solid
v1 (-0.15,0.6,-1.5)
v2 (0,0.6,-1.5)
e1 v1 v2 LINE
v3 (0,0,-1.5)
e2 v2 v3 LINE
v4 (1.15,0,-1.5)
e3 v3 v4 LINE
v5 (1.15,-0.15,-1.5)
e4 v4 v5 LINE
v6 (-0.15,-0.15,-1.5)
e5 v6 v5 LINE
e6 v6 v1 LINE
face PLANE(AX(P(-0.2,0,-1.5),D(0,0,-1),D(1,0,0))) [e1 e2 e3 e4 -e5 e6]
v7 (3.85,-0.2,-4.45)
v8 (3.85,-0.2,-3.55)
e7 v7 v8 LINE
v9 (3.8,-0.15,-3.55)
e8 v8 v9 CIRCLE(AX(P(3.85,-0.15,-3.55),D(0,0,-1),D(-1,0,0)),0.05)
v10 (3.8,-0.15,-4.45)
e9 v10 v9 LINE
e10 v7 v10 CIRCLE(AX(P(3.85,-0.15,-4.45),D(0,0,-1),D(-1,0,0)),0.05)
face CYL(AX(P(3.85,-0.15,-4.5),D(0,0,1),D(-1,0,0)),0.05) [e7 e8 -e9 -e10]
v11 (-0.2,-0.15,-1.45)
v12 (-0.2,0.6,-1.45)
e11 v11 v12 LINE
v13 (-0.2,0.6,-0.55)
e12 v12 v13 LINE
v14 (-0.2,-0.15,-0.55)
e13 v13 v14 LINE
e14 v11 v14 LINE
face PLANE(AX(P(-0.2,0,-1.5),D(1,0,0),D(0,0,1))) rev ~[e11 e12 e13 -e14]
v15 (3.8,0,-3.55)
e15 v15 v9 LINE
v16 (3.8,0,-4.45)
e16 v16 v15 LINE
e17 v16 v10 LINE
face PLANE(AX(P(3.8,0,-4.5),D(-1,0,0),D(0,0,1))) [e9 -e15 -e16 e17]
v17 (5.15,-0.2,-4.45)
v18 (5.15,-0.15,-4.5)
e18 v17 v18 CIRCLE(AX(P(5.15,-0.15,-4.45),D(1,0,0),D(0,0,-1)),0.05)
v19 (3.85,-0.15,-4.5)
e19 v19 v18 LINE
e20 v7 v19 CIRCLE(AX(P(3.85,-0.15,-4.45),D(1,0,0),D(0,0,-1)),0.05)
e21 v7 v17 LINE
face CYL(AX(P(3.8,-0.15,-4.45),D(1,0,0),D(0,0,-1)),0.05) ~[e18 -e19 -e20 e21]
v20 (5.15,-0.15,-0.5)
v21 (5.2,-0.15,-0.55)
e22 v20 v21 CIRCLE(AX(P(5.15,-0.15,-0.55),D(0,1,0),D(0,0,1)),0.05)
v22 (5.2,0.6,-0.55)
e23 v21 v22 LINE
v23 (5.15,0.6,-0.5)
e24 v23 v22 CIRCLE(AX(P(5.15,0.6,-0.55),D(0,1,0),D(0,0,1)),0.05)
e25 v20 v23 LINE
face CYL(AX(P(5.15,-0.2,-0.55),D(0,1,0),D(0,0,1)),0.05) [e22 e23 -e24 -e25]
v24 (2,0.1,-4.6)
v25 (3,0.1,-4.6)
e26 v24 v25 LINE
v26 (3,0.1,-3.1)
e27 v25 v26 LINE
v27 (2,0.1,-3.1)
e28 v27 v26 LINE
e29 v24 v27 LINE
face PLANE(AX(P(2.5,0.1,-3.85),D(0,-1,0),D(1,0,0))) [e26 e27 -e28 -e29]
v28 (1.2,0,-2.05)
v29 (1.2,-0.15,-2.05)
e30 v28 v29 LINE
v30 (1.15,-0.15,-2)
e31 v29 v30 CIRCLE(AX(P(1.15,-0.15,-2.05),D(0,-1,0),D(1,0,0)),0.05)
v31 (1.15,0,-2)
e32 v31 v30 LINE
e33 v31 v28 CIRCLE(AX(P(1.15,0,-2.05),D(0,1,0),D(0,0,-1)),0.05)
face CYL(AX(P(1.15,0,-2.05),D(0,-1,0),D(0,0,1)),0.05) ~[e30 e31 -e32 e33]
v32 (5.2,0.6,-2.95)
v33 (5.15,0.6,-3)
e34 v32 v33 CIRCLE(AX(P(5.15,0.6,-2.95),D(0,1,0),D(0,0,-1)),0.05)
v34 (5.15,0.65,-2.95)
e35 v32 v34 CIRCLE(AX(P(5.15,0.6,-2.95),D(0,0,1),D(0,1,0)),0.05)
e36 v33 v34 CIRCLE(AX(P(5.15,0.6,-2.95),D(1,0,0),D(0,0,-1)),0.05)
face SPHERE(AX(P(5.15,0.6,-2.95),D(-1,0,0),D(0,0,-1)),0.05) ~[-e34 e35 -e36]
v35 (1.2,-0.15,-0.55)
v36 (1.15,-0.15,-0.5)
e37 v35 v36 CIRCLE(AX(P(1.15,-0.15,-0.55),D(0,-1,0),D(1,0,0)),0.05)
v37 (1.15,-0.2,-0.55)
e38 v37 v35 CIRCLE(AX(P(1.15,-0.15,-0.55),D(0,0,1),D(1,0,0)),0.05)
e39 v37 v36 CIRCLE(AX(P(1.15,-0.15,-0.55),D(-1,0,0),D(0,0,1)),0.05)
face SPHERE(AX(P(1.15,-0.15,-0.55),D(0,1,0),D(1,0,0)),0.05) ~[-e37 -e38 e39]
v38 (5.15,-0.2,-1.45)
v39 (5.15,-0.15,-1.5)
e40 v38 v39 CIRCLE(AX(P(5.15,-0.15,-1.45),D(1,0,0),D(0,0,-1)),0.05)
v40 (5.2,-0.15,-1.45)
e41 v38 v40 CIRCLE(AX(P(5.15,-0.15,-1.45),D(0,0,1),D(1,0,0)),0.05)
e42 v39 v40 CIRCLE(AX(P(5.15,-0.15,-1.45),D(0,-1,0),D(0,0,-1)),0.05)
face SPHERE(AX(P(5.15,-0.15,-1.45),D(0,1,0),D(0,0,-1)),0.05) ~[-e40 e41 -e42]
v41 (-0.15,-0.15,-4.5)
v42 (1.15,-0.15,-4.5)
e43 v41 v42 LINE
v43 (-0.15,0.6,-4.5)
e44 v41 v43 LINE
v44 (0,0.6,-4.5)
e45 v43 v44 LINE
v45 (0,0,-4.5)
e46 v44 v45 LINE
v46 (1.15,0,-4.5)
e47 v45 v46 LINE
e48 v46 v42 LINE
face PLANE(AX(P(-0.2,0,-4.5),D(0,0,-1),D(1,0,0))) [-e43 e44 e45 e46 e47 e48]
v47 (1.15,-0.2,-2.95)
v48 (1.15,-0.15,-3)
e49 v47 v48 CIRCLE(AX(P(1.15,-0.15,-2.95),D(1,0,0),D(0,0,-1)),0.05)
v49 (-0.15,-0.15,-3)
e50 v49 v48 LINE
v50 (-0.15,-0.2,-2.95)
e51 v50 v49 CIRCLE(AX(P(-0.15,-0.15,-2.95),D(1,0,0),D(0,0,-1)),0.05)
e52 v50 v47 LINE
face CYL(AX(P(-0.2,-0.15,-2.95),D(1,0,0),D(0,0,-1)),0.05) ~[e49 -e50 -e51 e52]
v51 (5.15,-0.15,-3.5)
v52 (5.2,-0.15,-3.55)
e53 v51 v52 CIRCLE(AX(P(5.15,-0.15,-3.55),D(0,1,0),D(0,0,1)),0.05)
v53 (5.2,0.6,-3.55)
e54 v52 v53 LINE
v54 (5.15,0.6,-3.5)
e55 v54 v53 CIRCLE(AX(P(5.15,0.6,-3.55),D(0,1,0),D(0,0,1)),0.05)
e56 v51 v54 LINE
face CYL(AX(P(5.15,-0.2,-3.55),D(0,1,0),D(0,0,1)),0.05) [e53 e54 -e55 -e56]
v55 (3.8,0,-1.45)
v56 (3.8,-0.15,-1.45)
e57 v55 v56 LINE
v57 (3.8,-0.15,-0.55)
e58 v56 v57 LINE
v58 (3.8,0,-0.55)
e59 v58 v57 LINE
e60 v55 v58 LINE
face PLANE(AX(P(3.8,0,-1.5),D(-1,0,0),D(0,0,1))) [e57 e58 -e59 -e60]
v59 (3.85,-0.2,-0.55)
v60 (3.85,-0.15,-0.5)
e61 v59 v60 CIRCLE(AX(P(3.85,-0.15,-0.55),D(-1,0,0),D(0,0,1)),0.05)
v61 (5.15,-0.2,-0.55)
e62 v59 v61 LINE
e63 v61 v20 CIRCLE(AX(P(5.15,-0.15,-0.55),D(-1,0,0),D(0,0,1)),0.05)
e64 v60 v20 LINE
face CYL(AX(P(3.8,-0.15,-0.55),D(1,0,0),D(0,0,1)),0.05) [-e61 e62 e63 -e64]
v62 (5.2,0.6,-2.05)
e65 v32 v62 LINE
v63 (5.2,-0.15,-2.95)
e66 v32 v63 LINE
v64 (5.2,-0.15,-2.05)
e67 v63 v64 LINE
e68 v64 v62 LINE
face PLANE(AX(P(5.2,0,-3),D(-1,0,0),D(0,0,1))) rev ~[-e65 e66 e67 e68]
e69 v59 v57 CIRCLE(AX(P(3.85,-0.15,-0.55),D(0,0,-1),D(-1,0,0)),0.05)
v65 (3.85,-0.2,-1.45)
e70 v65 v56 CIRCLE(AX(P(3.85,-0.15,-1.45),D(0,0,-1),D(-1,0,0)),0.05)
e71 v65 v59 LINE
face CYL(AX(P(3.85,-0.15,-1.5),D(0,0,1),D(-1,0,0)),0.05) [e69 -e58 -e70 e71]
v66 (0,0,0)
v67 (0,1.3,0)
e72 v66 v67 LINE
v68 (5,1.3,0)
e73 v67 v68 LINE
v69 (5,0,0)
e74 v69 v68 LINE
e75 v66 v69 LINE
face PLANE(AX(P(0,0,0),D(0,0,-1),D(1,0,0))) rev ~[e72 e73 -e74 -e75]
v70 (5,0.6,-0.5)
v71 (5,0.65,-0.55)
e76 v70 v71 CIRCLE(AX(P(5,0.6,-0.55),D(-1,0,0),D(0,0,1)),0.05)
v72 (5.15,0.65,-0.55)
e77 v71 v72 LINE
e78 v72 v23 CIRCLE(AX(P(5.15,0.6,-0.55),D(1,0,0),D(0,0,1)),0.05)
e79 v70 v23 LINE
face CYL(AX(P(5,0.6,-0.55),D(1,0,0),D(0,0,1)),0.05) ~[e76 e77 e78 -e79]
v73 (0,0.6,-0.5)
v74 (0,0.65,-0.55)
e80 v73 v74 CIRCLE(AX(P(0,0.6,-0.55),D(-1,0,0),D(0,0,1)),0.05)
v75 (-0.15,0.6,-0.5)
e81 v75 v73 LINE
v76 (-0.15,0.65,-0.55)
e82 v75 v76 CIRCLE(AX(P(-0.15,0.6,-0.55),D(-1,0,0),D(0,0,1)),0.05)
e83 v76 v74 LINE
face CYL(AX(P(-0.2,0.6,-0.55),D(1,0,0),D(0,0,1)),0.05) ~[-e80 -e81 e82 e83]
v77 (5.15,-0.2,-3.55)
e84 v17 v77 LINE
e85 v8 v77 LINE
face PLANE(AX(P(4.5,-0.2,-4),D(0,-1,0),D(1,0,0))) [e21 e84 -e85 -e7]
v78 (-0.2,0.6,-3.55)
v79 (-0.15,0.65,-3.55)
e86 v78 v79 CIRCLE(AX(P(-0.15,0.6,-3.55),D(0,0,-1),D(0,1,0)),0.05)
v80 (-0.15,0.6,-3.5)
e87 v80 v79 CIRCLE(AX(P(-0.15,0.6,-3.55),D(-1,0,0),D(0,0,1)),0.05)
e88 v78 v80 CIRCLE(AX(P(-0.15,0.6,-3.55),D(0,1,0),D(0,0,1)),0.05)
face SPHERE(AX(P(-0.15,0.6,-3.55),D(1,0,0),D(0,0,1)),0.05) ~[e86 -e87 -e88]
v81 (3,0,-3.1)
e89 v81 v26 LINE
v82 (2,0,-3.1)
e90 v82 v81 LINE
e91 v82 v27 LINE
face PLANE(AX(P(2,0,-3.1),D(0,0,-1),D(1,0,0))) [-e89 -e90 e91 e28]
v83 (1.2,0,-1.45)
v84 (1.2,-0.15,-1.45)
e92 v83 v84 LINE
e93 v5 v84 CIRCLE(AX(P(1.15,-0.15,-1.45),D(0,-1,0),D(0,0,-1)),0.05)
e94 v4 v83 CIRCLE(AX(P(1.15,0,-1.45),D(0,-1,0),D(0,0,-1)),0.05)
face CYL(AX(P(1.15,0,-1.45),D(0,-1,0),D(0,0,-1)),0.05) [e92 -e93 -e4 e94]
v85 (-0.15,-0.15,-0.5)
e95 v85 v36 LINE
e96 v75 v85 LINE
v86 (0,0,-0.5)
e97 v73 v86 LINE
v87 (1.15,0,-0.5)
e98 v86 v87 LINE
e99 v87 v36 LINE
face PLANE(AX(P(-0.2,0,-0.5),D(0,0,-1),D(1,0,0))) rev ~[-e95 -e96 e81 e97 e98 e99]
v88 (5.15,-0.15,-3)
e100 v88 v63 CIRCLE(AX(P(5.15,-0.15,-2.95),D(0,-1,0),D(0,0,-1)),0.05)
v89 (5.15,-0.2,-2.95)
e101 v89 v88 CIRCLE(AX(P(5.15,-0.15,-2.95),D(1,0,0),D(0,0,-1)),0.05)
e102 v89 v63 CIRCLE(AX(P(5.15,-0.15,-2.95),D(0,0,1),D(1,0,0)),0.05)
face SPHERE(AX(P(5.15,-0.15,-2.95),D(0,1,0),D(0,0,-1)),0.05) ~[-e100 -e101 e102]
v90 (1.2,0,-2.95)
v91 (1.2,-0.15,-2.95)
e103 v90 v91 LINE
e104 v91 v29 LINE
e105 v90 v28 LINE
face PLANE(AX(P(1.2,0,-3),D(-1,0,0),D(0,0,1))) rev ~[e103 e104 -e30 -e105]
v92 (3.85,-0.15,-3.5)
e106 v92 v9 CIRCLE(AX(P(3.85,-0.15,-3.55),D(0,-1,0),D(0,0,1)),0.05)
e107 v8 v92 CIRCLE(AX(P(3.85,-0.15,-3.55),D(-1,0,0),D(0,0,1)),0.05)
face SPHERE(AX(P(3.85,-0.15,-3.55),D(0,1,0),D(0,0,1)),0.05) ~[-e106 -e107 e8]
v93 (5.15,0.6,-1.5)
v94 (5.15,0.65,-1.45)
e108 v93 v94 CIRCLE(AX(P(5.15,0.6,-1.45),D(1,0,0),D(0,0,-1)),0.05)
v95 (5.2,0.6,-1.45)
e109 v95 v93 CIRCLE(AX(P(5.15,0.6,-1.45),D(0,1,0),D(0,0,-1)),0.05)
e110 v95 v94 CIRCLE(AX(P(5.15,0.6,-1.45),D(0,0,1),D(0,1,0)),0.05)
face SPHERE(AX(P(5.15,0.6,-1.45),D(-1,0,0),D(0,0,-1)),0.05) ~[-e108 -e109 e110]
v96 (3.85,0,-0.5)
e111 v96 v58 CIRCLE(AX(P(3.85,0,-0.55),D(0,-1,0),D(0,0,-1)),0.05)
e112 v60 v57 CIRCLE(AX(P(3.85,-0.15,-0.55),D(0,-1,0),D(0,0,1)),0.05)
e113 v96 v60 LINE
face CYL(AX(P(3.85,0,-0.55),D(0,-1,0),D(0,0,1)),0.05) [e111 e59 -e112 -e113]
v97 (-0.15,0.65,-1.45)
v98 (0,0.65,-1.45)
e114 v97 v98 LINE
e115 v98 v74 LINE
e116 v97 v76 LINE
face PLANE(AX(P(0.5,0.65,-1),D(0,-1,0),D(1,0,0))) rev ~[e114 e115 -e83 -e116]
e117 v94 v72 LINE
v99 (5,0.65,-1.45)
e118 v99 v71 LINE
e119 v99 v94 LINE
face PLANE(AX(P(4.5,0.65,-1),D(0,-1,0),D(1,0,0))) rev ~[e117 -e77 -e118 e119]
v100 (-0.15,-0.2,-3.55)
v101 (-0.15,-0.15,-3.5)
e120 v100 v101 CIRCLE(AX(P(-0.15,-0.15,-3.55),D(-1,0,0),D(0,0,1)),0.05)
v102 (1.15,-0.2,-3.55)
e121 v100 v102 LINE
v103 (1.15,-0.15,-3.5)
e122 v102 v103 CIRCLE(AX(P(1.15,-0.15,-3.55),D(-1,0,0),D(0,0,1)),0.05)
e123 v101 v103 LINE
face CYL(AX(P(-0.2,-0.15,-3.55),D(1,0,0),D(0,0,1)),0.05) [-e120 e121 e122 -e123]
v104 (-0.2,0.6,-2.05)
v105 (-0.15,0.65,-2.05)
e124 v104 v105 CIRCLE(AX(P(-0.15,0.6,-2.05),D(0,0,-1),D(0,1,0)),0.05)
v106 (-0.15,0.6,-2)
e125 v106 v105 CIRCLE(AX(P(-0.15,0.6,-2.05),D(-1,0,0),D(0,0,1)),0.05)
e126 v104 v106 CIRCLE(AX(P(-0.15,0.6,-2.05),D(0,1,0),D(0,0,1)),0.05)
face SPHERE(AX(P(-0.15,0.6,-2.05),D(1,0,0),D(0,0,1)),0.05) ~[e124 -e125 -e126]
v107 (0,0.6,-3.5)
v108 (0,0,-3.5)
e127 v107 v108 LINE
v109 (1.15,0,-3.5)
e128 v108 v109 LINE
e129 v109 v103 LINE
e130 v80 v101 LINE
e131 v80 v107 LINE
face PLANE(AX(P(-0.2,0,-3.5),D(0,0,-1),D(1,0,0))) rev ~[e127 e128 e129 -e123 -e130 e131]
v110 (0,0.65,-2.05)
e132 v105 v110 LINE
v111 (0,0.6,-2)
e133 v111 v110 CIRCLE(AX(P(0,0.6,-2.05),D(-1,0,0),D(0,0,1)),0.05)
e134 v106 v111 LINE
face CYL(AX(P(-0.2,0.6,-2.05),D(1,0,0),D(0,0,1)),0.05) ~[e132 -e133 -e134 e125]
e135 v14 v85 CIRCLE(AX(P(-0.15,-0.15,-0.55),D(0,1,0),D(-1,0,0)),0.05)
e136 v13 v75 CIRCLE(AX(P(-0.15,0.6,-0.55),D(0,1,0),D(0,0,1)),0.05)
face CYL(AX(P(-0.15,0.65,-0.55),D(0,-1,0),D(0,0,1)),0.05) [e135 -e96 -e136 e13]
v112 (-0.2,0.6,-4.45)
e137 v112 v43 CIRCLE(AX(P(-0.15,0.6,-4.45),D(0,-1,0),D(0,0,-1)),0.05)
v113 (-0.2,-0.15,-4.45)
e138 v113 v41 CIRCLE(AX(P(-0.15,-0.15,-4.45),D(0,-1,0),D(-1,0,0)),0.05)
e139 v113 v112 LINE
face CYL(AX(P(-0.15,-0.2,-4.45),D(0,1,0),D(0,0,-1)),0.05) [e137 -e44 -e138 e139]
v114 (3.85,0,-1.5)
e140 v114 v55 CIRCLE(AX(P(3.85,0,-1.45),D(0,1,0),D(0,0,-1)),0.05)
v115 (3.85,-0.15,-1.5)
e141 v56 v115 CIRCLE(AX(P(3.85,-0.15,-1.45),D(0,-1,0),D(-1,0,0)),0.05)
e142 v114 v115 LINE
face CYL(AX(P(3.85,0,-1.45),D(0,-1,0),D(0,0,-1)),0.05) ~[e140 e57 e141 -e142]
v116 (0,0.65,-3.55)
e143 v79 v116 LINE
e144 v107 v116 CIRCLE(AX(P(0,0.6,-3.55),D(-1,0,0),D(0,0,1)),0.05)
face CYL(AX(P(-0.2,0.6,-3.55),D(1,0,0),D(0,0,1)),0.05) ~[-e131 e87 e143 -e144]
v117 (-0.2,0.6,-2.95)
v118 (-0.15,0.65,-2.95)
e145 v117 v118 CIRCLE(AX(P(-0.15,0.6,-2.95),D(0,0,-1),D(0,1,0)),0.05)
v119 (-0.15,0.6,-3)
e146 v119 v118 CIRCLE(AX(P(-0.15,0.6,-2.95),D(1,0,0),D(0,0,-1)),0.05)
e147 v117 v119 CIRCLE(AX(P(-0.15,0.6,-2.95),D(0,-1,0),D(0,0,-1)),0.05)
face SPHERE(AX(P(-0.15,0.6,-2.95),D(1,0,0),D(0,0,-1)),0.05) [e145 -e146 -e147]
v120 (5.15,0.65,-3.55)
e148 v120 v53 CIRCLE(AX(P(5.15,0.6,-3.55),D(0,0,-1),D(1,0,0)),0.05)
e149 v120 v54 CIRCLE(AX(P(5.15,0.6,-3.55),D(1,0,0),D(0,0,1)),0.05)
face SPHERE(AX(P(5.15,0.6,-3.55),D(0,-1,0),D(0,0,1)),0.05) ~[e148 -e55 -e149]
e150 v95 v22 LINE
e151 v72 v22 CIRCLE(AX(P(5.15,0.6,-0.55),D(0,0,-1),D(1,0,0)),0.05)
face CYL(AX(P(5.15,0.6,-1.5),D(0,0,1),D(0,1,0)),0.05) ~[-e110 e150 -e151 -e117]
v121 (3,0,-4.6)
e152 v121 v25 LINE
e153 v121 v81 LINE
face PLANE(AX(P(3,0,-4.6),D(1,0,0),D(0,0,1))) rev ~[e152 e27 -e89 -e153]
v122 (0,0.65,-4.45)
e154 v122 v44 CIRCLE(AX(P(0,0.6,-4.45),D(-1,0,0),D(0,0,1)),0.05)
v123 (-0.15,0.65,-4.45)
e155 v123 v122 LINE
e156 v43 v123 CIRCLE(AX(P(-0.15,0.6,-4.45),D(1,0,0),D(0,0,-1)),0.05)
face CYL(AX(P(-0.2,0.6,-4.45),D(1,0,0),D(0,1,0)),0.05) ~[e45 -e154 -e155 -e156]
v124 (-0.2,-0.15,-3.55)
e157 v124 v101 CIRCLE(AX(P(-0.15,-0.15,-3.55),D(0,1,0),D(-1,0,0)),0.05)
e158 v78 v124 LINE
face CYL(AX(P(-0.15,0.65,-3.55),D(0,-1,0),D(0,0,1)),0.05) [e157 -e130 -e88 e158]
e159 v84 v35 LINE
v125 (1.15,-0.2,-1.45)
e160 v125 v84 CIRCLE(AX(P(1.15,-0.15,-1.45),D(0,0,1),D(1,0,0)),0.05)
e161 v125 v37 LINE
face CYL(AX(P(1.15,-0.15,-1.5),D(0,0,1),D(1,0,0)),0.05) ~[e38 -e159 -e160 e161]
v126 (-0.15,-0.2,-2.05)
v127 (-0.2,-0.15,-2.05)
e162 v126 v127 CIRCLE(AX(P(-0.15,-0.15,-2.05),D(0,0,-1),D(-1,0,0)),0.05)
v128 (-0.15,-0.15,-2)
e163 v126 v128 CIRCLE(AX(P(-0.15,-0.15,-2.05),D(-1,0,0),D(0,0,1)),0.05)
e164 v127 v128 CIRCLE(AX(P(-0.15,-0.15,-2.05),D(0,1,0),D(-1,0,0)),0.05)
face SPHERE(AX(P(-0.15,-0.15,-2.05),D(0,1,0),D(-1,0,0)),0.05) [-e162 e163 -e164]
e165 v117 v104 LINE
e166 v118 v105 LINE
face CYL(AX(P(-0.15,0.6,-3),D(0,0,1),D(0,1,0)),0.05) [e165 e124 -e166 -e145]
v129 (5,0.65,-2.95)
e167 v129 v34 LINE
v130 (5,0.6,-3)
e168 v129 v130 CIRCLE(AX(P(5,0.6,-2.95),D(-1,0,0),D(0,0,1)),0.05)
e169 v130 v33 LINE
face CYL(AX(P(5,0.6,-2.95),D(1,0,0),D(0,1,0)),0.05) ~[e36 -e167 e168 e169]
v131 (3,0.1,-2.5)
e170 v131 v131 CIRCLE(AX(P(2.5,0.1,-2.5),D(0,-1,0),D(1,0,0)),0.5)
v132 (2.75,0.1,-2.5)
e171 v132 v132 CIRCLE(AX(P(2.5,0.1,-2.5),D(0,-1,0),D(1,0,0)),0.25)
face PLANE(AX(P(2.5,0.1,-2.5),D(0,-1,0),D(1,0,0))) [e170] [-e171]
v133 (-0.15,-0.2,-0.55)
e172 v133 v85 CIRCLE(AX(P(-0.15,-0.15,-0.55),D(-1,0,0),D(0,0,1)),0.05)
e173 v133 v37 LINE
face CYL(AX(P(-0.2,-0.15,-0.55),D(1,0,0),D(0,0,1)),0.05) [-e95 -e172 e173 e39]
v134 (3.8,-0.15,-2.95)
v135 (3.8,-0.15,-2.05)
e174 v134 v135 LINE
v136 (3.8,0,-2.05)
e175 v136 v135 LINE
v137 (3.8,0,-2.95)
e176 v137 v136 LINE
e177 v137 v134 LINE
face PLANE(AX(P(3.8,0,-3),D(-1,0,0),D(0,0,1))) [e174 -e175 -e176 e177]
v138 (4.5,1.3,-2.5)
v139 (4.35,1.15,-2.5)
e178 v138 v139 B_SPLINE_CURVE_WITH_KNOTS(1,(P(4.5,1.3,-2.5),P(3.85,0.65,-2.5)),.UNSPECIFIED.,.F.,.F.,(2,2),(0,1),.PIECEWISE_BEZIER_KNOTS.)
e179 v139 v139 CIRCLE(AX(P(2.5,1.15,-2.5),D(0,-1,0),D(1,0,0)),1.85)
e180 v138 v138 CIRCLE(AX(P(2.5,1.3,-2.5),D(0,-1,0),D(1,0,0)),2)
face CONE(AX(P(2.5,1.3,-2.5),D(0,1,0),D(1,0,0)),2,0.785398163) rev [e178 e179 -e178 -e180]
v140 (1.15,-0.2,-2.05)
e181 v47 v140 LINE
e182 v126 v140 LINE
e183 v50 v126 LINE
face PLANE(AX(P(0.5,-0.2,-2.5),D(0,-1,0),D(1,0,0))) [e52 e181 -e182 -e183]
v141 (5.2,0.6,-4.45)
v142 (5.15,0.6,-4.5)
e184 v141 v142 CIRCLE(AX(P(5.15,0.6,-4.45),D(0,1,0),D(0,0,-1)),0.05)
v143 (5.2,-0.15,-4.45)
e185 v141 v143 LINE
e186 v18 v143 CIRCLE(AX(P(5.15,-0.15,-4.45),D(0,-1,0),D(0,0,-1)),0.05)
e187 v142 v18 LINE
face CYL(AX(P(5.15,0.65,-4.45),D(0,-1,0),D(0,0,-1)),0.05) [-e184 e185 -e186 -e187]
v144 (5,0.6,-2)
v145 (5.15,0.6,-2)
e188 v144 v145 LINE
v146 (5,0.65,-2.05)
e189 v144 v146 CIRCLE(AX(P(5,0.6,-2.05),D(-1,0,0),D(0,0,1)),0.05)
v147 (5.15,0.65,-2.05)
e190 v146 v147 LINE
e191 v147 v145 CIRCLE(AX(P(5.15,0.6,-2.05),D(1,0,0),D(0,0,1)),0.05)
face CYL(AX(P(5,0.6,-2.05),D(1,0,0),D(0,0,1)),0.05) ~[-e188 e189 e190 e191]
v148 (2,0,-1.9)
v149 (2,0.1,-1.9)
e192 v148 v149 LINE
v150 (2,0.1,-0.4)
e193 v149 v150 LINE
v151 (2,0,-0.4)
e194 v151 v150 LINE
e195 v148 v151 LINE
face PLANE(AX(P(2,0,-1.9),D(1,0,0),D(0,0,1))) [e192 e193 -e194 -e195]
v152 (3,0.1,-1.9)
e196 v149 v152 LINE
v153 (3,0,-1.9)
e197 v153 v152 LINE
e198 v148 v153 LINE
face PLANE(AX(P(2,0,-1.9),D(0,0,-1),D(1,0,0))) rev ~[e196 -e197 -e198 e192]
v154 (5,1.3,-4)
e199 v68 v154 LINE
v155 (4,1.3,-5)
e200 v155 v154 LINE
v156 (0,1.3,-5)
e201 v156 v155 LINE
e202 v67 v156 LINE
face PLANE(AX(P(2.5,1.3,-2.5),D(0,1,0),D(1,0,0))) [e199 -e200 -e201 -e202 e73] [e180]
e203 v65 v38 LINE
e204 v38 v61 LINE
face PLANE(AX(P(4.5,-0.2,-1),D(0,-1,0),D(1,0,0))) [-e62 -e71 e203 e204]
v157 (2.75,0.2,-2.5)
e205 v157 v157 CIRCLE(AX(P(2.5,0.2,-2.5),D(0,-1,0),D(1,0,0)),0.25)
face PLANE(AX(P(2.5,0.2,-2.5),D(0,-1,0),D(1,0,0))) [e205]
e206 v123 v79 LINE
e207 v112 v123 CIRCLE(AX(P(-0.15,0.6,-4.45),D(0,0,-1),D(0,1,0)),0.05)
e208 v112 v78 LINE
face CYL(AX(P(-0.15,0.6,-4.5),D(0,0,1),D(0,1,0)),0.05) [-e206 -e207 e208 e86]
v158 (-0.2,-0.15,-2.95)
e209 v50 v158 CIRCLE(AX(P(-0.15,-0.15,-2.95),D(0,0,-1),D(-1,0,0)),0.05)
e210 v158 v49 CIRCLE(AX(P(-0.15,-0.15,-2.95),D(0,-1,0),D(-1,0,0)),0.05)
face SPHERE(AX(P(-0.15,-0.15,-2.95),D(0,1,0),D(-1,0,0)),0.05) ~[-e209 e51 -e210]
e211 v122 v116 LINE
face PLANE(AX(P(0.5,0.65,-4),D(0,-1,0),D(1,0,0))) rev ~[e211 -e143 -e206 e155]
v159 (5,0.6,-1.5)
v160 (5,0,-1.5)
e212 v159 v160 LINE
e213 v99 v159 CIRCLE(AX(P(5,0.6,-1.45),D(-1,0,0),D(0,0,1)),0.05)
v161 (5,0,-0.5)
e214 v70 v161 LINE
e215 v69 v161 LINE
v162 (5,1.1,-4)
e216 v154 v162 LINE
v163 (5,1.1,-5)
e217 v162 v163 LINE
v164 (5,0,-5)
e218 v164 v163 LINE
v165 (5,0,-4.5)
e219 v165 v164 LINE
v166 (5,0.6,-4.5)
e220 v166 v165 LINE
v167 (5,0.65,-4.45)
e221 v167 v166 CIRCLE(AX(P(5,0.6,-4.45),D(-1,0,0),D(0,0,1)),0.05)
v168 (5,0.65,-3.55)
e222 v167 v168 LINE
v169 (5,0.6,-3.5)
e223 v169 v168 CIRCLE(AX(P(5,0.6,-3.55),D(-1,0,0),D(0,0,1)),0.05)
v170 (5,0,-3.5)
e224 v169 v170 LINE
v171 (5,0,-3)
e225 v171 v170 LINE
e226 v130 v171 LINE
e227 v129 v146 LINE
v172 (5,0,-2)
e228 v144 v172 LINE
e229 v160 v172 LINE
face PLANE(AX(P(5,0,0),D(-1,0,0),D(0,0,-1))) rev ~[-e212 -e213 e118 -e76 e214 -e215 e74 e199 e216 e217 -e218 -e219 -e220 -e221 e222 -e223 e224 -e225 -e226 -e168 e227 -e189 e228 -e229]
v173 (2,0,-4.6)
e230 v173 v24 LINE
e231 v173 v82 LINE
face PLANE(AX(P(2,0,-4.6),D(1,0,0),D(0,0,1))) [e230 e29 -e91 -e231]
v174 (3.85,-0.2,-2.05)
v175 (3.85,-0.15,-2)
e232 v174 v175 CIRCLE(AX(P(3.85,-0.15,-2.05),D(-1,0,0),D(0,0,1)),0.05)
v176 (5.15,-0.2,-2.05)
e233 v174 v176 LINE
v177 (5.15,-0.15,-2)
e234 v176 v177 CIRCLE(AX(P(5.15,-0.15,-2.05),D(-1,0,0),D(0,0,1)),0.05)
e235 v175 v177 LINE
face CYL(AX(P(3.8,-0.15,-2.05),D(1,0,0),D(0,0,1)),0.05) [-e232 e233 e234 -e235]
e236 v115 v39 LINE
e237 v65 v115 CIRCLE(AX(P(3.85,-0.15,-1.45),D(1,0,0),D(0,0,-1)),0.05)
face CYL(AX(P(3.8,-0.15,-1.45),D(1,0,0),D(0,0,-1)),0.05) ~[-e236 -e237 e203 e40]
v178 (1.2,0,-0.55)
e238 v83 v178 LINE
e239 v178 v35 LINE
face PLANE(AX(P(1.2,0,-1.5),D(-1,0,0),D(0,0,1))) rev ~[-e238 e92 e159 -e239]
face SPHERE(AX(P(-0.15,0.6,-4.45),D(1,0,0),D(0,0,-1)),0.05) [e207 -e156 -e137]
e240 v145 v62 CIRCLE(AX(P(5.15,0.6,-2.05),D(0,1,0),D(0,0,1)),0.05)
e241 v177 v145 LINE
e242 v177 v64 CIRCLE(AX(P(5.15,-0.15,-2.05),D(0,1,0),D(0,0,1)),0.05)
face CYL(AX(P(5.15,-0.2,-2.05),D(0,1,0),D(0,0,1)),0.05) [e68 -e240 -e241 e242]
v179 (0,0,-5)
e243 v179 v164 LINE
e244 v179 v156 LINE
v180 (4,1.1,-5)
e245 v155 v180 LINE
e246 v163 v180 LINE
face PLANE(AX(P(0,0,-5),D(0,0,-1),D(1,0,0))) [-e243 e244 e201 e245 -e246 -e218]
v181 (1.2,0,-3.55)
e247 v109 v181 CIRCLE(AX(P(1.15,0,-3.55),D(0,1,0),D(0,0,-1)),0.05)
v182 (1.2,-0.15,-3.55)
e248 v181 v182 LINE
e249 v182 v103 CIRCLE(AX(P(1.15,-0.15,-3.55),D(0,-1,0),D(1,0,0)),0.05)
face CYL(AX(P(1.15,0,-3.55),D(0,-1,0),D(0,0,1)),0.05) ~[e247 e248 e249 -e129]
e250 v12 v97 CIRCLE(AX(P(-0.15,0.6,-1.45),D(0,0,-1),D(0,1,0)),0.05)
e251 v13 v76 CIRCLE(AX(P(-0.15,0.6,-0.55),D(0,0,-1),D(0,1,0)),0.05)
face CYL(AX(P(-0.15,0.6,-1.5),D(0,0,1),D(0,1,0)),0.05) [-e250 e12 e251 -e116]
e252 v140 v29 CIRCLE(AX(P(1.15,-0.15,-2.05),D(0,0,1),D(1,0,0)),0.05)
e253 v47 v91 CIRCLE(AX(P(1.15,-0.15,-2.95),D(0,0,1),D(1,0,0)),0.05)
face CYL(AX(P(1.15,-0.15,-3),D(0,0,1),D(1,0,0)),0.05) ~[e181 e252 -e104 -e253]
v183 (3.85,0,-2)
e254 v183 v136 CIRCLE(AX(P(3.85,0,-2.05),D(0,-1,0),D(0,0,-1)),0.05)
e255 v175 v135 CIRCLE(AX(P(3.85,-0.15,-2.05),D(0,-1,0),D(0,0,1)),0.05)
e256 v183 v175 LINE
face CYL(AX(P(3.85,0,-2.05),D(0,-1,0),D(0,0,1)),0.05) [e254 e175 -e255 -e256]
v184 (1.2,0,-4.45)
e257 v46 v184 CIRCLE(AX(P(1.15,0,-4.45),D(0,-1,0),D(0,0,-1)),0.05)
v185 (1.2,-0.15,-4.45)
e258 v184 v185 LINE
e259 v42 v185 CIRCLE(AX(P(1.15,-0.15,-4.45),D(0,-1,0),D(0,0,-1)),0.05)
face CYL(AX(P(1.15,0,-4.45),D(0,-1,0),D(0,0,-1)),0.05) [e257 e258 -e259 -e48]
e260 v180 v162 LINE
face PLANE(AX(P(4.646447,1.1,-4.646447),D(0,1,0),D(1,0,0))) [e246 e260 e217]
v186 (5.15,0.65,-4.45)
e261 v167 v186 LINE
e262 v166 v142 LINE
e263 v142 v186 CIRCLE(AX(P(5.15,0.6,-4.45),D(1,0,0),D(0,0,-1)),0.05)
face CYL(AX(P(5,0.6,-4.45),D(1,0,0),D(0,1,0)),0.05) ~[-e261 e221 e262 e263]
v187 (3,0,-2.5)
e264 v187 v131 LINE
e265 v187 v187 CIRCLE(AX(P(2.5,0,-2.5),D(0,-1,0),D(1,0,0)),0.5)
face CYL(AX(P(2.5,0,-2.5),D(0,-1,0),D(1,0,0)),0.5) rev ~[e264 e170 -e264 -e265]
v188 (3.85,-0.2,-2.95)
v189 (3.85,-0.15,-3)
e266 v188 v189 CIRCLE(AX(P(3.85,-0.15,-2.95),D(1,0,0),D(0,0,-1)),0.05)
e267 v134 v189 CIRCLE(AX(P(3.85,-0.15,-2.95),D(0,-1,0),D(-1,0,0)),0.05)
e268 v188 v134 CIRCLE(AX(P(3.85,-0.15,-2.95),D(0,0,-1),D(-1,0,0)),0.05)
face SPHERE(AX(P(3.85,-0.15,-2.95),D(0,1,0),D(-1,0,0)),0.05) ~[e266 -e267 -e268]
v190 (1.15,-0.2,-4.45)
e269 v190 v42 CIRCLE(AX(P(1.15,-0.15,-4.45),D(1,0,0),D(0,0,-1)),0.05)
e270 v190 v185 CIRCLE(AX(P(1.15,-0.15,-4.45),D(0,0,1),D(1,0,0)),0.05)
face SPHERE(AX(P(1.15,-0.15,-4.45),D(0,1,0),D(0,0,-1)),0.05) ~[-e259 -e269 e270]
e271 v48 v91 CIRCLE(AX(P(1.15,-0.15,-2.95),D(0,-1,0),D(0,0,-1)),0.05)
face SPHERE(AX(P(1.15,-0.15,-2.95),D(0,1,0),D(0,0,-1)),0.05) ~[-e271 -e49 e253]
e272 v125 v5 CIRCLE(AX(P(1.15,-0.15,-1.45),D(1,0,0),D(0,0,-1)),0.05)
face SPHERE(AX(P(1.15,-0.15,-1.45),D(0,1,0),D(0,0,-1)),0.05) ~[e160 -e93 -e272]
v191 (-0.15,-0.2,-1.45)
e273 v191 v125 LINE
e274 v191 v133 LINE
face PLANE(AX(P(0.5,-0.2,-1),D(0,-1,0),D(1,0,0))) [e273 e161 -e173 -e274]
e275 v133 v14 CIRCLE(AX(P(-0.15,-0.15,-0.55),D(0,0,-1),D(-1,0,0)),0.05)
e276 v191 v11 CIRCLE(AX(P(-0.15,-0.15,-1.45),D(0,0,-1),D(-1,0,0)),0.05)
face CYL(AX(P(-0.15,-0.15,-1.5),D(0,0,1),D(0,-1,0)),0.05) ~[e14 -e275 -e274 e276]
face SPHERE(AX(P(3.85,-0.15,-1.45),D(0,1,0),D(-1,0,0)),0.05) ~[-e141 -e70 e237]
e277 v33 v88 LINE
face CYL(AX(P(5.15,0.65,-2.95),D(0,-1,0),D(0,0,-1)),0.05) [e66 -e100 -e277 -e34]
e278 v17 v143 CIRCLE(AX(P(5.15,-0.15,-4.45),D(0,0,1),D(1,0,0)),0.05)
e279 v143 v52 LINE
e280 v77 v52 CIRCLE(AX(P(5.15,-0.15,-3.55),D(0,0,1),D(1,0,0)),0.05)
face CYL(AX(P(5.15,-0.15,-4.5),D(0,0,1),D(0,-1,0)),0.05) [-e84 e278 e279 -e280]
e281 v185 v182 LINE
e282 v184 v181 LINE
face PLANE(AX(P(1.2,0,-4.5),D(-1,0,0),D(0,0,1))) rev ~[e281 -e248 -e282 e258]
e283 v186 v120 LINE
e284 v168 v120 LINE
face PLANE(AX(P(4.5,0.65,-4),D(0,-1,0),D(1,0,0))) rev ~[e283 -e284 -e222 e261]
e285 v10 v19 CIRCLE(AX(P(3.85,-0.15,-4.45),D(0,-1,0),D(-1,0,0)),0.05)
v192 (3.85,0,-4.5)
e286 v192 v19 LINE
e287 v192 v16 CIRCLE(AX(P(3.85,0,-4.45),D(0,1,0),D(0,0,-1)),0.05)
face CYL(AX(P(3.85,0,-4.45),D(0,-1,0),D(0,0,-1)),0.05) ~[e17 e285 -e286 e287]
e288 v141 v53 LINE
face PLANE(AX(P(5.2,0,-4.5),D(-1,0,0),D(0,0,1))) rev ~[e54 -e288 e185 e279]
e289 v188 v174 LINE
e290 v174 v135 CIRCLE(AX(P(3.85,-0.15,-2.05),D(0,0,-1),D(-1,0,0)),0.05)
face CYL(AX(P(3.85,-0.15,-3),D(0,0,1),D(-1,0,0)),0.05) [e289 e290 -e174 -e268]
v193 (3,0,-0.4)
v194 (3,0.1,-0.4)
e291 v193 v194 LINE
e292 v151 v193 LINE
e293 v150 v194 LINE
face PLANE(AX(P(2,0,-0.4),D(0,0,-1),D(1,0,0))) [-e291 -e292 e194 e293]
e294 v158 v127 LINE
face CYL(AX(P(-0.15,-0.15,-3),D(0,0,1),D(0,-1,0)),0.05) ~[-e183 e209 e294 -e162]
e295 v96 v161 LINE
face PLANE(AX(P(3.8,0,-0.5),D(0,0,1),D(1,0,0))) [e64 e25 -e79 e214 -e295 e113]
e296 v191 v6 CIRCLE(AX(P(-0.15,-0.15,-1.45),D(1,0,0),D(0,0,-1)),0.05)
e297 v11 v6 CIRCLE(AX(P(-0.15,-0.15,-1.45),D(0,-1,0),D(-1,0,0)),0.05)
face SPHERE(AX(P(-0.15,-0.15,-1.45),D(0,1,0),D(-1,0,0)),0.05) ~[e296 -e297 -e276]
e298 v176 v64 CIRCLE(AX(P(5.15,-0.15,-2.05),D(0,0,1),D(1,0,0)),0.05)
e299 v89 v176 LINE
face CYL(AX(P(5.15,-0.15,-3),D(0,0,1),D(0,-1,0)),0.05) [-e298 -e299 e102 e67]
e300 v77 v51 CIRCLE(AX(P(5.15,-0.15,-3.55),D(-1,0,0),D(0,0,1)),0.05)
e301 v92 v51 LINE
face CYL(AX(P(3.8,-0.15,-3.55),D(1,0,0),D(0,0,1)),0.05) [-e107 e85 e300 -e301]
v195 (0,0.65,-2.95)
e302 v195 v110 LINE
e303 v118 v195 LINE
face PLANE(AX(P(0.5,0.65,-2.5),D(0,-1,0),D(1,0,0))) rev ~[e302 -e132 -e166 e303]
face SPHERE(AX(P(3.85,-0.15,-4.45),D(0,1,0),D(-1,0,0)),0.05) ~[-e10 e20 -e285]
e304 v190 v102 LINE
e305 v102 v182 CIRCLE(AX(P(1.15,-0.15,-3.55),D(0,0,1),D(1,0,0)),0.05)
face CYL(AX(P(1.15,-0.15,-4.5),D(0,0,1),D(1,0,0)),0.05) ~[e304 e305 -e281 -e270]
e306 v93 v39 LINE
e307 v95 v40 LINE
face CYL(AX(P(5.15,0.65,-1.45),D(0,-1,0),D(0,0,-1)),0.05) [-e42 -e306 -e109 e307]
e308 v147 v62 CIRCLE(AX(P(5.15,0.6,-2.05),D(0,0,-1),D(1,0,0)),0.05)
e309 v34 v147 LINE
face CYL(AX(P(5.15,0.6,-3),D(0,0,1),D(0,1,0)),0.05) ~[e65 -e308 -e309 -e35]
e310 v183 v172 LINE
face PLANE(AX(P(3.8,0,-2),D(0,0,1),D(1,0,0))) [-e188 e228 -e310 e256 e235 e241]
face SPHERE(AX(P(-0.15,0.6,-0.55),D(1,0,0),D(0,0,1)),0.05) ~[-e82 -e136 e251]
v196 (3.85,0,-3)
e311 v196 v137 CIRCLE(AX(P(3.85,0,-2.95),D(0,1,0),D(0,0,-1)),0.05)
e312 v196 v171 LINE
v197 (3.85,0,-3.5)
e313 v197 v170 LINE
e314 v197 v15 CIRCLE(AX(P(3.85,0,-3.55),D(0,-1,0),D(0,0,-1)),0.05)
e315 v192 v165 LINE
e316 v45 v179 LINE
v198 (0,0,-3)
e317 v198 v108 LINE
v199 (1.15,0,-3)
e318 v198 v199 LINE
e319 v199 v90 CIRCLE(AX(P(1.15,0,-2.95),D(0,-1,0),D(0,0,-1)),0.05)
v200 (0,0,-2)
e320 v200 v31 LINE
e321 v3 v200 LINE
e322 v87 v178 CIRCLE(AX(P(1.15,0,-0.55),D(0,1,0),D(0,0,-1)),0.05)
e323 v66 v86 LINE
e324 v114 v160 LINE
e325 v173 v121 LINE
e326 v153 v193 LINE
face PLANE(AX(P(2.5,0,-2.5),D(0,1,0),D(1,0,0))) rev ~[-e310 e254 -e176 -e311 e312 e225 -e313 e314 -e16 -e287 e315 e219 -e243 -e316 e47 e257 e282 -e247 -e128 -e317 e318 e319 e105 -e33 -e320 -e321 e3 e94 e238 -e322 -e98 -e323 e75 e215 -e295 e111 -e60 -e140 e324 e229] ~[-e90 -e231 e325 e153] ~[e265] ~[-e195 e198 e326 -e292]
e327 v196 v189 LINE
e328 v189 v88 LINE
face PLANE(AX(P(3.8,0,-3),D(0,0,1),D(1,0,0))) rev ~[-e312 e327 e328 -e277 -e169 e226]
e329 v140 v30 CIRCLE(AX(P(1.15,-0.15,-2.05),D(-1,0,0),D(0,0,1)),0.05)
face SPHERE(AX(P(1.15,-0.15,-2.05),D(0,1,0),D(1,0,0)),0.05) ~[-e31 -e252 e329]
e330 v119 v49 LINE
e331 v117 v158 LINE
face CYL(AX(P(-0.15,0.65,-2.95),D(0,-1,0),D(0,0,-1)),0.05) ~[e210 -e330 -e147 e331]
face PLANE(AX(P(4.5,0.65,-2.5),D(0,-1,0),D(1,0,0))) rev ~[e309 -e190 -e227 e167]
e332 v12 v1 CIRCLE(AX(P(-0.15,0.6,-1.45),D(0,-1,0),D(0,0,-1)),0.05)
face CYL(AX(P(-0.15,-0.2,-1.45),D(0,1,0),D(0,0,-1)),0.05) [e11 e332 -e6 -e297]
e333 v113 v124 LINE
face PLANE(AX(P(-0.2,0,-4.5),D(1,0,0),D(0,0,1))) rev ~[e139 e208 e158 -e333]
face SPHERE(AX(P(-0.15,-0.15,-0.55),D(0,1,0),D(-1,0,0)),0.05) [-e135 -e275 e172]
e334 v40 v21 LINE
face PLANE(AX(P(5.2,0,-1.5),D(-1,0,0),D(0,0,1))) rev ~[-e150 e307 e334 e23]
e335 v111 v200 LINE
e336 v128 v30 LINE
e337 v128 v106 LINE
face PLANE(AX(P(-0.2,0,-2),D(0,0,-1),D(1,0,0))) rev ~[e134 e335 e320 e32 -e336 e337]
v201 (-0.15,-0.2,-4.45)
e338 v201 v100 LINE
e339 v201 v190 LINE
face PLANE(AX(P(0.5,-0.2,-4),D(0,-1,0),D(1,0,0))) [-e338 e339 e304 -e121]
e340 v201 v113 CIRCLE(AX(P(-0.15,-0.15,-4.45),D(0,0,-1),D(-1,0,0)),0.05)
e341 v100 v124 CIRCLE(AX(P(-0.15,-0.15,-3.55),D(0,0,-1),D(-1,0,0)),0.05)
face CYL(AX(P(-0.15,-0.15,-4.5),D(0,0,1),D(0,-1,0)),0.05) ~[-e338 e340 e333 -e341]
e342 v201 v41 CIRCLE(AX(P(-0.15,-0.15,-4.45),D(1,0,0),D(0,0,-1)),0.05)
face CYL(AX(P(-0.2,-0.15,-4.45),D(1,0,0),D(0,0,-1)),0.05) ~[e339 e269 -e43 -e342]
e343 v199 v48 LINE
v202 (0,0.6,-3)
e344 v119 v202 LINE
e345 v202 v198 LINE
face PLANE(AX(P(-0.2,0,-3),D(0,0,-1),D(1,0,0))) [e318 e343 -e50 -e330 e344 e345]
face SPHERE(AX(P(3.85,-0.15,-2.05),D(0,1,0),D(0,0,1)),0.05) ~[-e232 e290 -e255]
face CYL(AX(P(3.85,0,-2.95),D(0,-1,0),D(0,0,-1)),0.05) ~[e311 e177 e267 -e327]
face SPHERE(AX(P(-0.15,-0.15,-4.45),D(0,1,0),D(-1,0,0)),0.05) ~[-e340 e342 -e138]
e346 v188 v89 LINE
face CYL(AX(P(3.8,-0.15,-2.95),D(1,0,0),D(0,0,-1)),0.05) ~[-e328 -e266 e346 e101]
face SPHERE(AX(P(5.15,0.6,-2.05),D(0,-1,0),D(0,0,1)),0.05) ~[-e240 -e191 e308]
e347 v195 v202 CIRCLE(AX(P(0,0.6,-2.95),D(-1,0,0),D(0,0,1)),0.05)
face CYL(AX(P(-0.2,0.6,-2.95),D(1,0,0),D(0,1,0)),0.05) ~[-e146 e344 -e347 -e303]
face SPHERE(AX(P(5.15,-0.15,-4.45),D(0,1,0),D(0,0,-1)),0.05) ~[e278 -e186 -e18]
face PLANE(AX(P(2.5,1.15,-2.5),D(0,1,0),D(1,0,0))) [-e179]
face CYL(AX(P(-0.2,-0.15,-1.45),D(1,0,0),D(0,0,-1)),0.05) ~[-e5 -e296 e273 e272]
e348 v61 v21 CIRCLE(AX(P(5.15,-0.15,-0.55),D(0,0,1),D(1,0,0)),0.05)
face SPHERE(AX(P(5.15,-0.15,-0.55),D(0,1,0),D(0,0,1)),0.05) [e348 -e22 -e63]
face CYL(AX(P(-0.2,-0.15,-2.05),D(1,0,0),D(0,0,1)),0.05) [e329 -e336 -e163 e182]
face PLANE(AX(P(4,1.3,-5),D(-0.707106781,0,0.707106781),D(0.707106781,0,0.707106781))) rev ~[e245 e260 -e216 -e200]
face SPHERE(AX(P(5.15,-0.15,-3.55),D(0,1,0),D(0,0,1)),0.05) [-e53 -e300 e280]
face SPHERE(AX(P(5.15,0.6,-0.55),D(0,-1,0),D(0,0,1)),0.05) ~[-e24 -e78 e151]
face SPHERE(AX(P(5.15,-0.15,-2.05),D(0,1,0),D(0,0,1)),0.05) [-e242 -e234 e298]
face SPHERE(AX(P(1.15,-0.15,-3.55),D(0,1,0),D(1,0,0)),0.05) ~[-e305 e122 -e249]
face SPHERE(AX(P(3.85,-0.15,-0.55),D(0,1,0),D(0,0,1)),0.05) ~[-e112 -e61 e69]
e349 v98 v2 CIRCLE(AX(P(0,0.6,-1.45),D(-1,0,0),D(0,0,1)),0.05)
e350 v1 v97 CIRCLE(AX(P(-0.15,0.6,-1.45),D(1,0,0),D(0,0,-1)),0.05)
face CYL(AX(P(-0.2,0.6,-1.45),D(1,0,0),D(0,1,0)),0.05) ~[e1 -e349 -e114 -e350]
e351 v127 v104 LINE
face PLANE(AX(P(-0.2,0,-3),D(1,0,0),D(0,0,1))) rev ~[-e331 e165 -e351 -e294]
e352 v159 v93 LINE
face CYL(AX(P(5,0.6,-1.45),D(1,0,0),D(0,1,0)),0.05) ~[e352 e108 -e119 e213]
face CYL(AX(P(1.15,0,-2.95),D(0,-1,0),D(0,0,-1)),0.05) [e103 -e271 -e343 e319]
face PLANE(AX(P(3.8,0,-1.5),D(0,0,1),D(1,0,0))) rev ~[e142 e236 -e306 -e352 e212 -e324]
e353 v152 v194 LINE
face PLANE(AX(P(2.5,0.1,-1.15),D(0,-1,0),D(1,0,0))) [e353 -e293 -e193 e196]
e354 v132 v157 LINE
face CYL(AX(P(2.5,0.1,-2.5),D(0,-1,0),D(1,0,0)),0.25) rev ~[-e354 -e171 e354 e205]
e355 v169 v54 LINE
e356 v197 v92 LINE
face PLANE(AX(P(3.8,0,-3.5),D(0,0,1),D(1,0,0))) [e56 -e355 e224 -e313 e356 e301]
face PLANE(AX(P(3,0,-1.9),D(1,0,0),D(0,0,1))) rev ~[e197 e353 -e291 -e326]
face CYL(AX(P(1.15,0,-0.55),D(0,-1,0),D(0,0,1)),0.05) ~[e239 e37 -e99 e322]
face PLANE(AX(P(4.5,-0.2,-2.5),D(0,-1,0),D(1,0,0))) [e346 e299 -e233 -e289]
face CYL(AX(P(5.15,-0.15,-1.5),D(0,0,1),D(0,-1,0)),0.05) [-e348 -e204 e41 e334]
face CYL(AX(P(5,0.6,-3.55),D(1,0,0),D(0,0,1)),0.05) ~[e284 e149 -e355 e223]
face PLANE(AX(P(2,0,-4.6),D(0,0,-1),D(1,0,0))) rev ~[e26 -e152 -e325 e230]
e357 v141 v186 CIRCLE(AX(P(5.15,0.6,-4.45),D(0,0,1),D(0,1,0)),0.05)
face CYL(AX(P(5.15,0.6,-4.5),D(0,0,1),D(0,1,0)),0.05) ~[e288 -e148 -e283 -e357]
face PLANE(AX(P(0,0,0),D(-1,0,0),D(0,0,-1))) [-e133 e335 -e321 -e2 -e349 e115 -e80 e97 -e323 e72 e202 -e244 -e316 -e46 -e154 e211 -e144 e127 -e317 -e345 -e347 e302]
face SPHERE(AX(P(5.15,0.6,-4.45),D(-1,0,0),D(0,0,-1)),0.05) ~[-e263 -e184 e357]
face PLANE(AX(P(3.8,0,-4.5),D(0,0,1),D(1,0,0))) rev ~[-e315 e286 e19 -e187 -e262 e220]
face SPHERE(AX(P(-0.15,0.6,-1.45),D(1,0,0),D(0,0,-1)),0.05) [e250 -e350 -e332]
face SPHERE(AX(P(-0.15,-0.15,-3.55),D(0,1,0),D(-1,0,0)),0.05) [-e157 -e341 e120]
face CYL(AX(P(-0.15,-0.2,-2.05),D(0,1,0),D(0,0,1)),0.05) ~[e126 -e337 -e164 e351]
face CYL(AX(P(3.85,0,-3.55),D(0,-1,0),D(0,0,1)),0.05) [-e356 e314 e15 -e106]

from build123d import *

# Parameters (mm, degrees)
SKETCH1_W                = 5
SKETCH1_H                = 5
BOSS_EXTRUDE1_DEPTH      = 1.3
CUT_EXTRUDE1_DEPTH       = 0.2
SKETCH3_R                = 2
CUT_EXTRUDE2_DEPTH       = 0.65
CUT_EXTRUDE2_TAPER       = 45
SKETCH4_W                = 1.4
SKETCH4_H                = 1
BOSS_EXTRUDE2_DEPTH      = 0.2
BOSS_EXTRUDE2_DEPTH_BACK = 0.65
SKETCH5_R                = 0.5
SKETCH5_W                = 1
SKETCH5_H                = 1.5
CUT_EXTRUDE3_DEPTH       = 0.1
SKETCH6_R                = 0.25
CUT_EXTRUDE4_DEPTH       = 0.1
SKETCH7_R                = 1.35
BOSS_EXTRUDE3_DEPTH      = 0.5
BOSS_EXTRUDE3_TAPER      = -45
FILLET2_R                = 0.05


with BuildPart() as part:
    # Sketch1 → Boss-Extrude1 (new body)
    with BuildSketch(Plane(origin=(0, 0, 0), x_dir=(1, 0, 0), z_dir=(0, 1, 0))):
        with Locations((2.5, 2.5)):
            Rectangle(SKETCH1_W, SKETCH1_H)
    extrude(amount=BOSS_EXTRUDE1_DEPTH)

    # Sketch2 → Cut-Extrude1 (cut)
    with BuildSketch(Plane(origin=(0, 1.3, 0), x_dir=(1, 0, 0), z_dir=(0, 1, 0))):
        Polygon((5, 5), (4, 5), (5, 4), align=None)
    extrude(amount=-CUT_EXTRUDE1_DEPTH, mode=Mode.SUBTRACT)

    # Sketch3 → Cut-Extrude2 (cut)
    with BuildSketch(Plane(origin=(0, 1.3, 0), x_dir=(1, 0, 0), z_dir=(0, 1, 0))):
        with Locations((2.5, 2.5)):
            Circle(SKETCH3_R)
    extrude(amount=-CUT_EXTRUDE2_DEPTH, taper=CUT_EXTRUDE2_TAPER, mode=Mode.SUBTRACT)

    # Sketch4 → Boss-Extrude2 (add, two sides)
    with BuildSketch(Plane.XZ) as boss_extrude2_sk:
        with Locations((0.5, -2.5)):
            Rectangle(SKETCH4_W, SKETCH4_H)
        with Locations((0.5, -1)):
            Rectangle(SKETCH4_W, SKETCH4_H)
        with Locations((0.5, -4)):
            Rectangle(SKETCH4_W, SKETCH4_H)
        with Locations((4.5, -4)):
            Rectangle(SKETCH4_W, SKETCH4_H)
        with Locations((4.5, -2.5)):
            Rectangle(SKETCH4_W, SKETCH4_H)
        with Locations((4.5, -1)):
            Rectangle(SKETCH4_W, SKETCH4_H)
    extrude(amount=BOSS_EXTRUDE2_DEPTH)
    extrude(boss_extrude2_sk.sketch, amount=-BOSS_EXTRUDE2_DEPTH_BACK)

    # Sketch5 → Cut-Extrude3 (cut)
    with BuildSketch(Plane.XZ):
        with Locations((2.5, -2.5)):
            Circle(SKETCH5_R)
        with Locations((2.5, -3.85)):
            Rectangle(SKETCH5_W, SKETCH5_H)
        with Locations((2.5, -1.15)):
            Rectangle(SKETCH5_W, SKETCH5_H)
    extrude(amount=-CUT_EXTRUDE3_DEPTH, mode=Mode.SUBTRACT)

    # Sketch6 → Cut-Extrude4 (cut)
    with BuildSketch(Plane.XZ.offset(-0.1)):
        with Locations((2.5, -2.5)):
            Circle(SKETCH6_R)
    extrude(amount=-CUT_EXTRUDE4_DEPTH, mode=Mode.SUBTRACT)

    # Sketch7 → Boss-Extrude3 (add)
    with BuildSketch(Plane(origin=(0, 0.65, 0), x_dir=(1, 0, 0), z_dir=(0, 1, 0))):
        with Locations((2.5, 2.5)):
            Circle(SKETCH7_R)
    extrude(amount=BOSS_EXTRUDE3_DEPTH, taper=BOSS_EXTRUDE3_TAPER)

    # Fillet2
    fillet2_edges = [part.edges().sort_by_distance(p)[0] for p in [
        (5.2, 0.225, -2),
        (5.1, 0.65, -2),
        (3.8, -0.1, -2),
        (5.1, 0.65, -3),
        (3.8, -0.1, -3),
        (5.2, 0.225, -3),
        (5.2, 0.65, -2.5),
        (4.5, -0.2, -2),
        (3.8, -0.2, -2.5),
        (4.5, -0.2, -3),
        (5.2, -0.2, -2.5),
        (5.2, 0.225, -0.5),
        (5.1, 0.65, -0.5),
        (3.8, -0.1, -0.5),
        (5.1, 0.65, -1.5),
        (3.8, -0.1, -1.5),
        (5.2, 0.225, -1.5),
        (5.2, 0.65, -1),
        (4.5, -0.2, -0.5),
        (3.8, -0.2, -1),
        (4.5, -0.2, -1.5),
        (5.2, -0.2, -1),
        (-0.1, 0.65, -1.5),
        (-0.2, 0.225, -1.5),
        (-0.1, 0.65, -0.5),
        (1.2, -0.1, -0.5),
        (-0.2, 0.225, -0.5),
        (-0.2, 0.65, -1),
        (1.2, -0.1, -1.5),
        (-0.2, -0.2, -1),
        (0.5, -0.2, -1.5),
        (1.2, -0.2, -1),
        (0.5, -0.2, -0.5),
        (-0.1, 0.65, -3),
        (-0.2, 0.225, -3),
        (-0.1, 0.65, -2),
        (1.2, -0.1, -2),
        (-0.2, 0.225, -2),
        (-0.2, 0.65, -2.5),
        (1.2, -0.1, -3),
        (-0.2, -0.2, -2.5),
        (0.5, -0.2, -3),
        (1.2, -0.2, -2.5),
        (0.5, -0.2, -2),
        (-0.1, 0.65, -4.5),
        (-0.2, 0.225, -4.5),
        (-0.1, 0.65, -3.5),
        (1.2, -0.1, -3.5),
        (-0.2, 0.225, -3.5),
        (-0.2, 0.65, -4),
        (1.2, -0.1, -4.5),
        (-0.2, -0.2, -4),
        (0.5, -0.2, -4.5),
        (1.2, -0.2, -4),
        (0.5, -0.2, -3.5),
        (5.2, 0.225, -3.5),
        (5.1, 0.65, -3.5),
        (3.8, -0.1, -3.5),
        (5.1, 0.65, -4.5),
        (3.8, -0.1, -4.5),
        (5.2, 0.225, -4.5),
        (5.2, 0.65, -4),
        (4.5, -0.2, -3.5),
        (3.8, -0.2, -4),
        (4.5, -0.2, -4.5),
        (5.2, -0.2, -4),
    ]]
    fillet(fillet2_edges, radius=FILLET2_R)


solid = part.part
